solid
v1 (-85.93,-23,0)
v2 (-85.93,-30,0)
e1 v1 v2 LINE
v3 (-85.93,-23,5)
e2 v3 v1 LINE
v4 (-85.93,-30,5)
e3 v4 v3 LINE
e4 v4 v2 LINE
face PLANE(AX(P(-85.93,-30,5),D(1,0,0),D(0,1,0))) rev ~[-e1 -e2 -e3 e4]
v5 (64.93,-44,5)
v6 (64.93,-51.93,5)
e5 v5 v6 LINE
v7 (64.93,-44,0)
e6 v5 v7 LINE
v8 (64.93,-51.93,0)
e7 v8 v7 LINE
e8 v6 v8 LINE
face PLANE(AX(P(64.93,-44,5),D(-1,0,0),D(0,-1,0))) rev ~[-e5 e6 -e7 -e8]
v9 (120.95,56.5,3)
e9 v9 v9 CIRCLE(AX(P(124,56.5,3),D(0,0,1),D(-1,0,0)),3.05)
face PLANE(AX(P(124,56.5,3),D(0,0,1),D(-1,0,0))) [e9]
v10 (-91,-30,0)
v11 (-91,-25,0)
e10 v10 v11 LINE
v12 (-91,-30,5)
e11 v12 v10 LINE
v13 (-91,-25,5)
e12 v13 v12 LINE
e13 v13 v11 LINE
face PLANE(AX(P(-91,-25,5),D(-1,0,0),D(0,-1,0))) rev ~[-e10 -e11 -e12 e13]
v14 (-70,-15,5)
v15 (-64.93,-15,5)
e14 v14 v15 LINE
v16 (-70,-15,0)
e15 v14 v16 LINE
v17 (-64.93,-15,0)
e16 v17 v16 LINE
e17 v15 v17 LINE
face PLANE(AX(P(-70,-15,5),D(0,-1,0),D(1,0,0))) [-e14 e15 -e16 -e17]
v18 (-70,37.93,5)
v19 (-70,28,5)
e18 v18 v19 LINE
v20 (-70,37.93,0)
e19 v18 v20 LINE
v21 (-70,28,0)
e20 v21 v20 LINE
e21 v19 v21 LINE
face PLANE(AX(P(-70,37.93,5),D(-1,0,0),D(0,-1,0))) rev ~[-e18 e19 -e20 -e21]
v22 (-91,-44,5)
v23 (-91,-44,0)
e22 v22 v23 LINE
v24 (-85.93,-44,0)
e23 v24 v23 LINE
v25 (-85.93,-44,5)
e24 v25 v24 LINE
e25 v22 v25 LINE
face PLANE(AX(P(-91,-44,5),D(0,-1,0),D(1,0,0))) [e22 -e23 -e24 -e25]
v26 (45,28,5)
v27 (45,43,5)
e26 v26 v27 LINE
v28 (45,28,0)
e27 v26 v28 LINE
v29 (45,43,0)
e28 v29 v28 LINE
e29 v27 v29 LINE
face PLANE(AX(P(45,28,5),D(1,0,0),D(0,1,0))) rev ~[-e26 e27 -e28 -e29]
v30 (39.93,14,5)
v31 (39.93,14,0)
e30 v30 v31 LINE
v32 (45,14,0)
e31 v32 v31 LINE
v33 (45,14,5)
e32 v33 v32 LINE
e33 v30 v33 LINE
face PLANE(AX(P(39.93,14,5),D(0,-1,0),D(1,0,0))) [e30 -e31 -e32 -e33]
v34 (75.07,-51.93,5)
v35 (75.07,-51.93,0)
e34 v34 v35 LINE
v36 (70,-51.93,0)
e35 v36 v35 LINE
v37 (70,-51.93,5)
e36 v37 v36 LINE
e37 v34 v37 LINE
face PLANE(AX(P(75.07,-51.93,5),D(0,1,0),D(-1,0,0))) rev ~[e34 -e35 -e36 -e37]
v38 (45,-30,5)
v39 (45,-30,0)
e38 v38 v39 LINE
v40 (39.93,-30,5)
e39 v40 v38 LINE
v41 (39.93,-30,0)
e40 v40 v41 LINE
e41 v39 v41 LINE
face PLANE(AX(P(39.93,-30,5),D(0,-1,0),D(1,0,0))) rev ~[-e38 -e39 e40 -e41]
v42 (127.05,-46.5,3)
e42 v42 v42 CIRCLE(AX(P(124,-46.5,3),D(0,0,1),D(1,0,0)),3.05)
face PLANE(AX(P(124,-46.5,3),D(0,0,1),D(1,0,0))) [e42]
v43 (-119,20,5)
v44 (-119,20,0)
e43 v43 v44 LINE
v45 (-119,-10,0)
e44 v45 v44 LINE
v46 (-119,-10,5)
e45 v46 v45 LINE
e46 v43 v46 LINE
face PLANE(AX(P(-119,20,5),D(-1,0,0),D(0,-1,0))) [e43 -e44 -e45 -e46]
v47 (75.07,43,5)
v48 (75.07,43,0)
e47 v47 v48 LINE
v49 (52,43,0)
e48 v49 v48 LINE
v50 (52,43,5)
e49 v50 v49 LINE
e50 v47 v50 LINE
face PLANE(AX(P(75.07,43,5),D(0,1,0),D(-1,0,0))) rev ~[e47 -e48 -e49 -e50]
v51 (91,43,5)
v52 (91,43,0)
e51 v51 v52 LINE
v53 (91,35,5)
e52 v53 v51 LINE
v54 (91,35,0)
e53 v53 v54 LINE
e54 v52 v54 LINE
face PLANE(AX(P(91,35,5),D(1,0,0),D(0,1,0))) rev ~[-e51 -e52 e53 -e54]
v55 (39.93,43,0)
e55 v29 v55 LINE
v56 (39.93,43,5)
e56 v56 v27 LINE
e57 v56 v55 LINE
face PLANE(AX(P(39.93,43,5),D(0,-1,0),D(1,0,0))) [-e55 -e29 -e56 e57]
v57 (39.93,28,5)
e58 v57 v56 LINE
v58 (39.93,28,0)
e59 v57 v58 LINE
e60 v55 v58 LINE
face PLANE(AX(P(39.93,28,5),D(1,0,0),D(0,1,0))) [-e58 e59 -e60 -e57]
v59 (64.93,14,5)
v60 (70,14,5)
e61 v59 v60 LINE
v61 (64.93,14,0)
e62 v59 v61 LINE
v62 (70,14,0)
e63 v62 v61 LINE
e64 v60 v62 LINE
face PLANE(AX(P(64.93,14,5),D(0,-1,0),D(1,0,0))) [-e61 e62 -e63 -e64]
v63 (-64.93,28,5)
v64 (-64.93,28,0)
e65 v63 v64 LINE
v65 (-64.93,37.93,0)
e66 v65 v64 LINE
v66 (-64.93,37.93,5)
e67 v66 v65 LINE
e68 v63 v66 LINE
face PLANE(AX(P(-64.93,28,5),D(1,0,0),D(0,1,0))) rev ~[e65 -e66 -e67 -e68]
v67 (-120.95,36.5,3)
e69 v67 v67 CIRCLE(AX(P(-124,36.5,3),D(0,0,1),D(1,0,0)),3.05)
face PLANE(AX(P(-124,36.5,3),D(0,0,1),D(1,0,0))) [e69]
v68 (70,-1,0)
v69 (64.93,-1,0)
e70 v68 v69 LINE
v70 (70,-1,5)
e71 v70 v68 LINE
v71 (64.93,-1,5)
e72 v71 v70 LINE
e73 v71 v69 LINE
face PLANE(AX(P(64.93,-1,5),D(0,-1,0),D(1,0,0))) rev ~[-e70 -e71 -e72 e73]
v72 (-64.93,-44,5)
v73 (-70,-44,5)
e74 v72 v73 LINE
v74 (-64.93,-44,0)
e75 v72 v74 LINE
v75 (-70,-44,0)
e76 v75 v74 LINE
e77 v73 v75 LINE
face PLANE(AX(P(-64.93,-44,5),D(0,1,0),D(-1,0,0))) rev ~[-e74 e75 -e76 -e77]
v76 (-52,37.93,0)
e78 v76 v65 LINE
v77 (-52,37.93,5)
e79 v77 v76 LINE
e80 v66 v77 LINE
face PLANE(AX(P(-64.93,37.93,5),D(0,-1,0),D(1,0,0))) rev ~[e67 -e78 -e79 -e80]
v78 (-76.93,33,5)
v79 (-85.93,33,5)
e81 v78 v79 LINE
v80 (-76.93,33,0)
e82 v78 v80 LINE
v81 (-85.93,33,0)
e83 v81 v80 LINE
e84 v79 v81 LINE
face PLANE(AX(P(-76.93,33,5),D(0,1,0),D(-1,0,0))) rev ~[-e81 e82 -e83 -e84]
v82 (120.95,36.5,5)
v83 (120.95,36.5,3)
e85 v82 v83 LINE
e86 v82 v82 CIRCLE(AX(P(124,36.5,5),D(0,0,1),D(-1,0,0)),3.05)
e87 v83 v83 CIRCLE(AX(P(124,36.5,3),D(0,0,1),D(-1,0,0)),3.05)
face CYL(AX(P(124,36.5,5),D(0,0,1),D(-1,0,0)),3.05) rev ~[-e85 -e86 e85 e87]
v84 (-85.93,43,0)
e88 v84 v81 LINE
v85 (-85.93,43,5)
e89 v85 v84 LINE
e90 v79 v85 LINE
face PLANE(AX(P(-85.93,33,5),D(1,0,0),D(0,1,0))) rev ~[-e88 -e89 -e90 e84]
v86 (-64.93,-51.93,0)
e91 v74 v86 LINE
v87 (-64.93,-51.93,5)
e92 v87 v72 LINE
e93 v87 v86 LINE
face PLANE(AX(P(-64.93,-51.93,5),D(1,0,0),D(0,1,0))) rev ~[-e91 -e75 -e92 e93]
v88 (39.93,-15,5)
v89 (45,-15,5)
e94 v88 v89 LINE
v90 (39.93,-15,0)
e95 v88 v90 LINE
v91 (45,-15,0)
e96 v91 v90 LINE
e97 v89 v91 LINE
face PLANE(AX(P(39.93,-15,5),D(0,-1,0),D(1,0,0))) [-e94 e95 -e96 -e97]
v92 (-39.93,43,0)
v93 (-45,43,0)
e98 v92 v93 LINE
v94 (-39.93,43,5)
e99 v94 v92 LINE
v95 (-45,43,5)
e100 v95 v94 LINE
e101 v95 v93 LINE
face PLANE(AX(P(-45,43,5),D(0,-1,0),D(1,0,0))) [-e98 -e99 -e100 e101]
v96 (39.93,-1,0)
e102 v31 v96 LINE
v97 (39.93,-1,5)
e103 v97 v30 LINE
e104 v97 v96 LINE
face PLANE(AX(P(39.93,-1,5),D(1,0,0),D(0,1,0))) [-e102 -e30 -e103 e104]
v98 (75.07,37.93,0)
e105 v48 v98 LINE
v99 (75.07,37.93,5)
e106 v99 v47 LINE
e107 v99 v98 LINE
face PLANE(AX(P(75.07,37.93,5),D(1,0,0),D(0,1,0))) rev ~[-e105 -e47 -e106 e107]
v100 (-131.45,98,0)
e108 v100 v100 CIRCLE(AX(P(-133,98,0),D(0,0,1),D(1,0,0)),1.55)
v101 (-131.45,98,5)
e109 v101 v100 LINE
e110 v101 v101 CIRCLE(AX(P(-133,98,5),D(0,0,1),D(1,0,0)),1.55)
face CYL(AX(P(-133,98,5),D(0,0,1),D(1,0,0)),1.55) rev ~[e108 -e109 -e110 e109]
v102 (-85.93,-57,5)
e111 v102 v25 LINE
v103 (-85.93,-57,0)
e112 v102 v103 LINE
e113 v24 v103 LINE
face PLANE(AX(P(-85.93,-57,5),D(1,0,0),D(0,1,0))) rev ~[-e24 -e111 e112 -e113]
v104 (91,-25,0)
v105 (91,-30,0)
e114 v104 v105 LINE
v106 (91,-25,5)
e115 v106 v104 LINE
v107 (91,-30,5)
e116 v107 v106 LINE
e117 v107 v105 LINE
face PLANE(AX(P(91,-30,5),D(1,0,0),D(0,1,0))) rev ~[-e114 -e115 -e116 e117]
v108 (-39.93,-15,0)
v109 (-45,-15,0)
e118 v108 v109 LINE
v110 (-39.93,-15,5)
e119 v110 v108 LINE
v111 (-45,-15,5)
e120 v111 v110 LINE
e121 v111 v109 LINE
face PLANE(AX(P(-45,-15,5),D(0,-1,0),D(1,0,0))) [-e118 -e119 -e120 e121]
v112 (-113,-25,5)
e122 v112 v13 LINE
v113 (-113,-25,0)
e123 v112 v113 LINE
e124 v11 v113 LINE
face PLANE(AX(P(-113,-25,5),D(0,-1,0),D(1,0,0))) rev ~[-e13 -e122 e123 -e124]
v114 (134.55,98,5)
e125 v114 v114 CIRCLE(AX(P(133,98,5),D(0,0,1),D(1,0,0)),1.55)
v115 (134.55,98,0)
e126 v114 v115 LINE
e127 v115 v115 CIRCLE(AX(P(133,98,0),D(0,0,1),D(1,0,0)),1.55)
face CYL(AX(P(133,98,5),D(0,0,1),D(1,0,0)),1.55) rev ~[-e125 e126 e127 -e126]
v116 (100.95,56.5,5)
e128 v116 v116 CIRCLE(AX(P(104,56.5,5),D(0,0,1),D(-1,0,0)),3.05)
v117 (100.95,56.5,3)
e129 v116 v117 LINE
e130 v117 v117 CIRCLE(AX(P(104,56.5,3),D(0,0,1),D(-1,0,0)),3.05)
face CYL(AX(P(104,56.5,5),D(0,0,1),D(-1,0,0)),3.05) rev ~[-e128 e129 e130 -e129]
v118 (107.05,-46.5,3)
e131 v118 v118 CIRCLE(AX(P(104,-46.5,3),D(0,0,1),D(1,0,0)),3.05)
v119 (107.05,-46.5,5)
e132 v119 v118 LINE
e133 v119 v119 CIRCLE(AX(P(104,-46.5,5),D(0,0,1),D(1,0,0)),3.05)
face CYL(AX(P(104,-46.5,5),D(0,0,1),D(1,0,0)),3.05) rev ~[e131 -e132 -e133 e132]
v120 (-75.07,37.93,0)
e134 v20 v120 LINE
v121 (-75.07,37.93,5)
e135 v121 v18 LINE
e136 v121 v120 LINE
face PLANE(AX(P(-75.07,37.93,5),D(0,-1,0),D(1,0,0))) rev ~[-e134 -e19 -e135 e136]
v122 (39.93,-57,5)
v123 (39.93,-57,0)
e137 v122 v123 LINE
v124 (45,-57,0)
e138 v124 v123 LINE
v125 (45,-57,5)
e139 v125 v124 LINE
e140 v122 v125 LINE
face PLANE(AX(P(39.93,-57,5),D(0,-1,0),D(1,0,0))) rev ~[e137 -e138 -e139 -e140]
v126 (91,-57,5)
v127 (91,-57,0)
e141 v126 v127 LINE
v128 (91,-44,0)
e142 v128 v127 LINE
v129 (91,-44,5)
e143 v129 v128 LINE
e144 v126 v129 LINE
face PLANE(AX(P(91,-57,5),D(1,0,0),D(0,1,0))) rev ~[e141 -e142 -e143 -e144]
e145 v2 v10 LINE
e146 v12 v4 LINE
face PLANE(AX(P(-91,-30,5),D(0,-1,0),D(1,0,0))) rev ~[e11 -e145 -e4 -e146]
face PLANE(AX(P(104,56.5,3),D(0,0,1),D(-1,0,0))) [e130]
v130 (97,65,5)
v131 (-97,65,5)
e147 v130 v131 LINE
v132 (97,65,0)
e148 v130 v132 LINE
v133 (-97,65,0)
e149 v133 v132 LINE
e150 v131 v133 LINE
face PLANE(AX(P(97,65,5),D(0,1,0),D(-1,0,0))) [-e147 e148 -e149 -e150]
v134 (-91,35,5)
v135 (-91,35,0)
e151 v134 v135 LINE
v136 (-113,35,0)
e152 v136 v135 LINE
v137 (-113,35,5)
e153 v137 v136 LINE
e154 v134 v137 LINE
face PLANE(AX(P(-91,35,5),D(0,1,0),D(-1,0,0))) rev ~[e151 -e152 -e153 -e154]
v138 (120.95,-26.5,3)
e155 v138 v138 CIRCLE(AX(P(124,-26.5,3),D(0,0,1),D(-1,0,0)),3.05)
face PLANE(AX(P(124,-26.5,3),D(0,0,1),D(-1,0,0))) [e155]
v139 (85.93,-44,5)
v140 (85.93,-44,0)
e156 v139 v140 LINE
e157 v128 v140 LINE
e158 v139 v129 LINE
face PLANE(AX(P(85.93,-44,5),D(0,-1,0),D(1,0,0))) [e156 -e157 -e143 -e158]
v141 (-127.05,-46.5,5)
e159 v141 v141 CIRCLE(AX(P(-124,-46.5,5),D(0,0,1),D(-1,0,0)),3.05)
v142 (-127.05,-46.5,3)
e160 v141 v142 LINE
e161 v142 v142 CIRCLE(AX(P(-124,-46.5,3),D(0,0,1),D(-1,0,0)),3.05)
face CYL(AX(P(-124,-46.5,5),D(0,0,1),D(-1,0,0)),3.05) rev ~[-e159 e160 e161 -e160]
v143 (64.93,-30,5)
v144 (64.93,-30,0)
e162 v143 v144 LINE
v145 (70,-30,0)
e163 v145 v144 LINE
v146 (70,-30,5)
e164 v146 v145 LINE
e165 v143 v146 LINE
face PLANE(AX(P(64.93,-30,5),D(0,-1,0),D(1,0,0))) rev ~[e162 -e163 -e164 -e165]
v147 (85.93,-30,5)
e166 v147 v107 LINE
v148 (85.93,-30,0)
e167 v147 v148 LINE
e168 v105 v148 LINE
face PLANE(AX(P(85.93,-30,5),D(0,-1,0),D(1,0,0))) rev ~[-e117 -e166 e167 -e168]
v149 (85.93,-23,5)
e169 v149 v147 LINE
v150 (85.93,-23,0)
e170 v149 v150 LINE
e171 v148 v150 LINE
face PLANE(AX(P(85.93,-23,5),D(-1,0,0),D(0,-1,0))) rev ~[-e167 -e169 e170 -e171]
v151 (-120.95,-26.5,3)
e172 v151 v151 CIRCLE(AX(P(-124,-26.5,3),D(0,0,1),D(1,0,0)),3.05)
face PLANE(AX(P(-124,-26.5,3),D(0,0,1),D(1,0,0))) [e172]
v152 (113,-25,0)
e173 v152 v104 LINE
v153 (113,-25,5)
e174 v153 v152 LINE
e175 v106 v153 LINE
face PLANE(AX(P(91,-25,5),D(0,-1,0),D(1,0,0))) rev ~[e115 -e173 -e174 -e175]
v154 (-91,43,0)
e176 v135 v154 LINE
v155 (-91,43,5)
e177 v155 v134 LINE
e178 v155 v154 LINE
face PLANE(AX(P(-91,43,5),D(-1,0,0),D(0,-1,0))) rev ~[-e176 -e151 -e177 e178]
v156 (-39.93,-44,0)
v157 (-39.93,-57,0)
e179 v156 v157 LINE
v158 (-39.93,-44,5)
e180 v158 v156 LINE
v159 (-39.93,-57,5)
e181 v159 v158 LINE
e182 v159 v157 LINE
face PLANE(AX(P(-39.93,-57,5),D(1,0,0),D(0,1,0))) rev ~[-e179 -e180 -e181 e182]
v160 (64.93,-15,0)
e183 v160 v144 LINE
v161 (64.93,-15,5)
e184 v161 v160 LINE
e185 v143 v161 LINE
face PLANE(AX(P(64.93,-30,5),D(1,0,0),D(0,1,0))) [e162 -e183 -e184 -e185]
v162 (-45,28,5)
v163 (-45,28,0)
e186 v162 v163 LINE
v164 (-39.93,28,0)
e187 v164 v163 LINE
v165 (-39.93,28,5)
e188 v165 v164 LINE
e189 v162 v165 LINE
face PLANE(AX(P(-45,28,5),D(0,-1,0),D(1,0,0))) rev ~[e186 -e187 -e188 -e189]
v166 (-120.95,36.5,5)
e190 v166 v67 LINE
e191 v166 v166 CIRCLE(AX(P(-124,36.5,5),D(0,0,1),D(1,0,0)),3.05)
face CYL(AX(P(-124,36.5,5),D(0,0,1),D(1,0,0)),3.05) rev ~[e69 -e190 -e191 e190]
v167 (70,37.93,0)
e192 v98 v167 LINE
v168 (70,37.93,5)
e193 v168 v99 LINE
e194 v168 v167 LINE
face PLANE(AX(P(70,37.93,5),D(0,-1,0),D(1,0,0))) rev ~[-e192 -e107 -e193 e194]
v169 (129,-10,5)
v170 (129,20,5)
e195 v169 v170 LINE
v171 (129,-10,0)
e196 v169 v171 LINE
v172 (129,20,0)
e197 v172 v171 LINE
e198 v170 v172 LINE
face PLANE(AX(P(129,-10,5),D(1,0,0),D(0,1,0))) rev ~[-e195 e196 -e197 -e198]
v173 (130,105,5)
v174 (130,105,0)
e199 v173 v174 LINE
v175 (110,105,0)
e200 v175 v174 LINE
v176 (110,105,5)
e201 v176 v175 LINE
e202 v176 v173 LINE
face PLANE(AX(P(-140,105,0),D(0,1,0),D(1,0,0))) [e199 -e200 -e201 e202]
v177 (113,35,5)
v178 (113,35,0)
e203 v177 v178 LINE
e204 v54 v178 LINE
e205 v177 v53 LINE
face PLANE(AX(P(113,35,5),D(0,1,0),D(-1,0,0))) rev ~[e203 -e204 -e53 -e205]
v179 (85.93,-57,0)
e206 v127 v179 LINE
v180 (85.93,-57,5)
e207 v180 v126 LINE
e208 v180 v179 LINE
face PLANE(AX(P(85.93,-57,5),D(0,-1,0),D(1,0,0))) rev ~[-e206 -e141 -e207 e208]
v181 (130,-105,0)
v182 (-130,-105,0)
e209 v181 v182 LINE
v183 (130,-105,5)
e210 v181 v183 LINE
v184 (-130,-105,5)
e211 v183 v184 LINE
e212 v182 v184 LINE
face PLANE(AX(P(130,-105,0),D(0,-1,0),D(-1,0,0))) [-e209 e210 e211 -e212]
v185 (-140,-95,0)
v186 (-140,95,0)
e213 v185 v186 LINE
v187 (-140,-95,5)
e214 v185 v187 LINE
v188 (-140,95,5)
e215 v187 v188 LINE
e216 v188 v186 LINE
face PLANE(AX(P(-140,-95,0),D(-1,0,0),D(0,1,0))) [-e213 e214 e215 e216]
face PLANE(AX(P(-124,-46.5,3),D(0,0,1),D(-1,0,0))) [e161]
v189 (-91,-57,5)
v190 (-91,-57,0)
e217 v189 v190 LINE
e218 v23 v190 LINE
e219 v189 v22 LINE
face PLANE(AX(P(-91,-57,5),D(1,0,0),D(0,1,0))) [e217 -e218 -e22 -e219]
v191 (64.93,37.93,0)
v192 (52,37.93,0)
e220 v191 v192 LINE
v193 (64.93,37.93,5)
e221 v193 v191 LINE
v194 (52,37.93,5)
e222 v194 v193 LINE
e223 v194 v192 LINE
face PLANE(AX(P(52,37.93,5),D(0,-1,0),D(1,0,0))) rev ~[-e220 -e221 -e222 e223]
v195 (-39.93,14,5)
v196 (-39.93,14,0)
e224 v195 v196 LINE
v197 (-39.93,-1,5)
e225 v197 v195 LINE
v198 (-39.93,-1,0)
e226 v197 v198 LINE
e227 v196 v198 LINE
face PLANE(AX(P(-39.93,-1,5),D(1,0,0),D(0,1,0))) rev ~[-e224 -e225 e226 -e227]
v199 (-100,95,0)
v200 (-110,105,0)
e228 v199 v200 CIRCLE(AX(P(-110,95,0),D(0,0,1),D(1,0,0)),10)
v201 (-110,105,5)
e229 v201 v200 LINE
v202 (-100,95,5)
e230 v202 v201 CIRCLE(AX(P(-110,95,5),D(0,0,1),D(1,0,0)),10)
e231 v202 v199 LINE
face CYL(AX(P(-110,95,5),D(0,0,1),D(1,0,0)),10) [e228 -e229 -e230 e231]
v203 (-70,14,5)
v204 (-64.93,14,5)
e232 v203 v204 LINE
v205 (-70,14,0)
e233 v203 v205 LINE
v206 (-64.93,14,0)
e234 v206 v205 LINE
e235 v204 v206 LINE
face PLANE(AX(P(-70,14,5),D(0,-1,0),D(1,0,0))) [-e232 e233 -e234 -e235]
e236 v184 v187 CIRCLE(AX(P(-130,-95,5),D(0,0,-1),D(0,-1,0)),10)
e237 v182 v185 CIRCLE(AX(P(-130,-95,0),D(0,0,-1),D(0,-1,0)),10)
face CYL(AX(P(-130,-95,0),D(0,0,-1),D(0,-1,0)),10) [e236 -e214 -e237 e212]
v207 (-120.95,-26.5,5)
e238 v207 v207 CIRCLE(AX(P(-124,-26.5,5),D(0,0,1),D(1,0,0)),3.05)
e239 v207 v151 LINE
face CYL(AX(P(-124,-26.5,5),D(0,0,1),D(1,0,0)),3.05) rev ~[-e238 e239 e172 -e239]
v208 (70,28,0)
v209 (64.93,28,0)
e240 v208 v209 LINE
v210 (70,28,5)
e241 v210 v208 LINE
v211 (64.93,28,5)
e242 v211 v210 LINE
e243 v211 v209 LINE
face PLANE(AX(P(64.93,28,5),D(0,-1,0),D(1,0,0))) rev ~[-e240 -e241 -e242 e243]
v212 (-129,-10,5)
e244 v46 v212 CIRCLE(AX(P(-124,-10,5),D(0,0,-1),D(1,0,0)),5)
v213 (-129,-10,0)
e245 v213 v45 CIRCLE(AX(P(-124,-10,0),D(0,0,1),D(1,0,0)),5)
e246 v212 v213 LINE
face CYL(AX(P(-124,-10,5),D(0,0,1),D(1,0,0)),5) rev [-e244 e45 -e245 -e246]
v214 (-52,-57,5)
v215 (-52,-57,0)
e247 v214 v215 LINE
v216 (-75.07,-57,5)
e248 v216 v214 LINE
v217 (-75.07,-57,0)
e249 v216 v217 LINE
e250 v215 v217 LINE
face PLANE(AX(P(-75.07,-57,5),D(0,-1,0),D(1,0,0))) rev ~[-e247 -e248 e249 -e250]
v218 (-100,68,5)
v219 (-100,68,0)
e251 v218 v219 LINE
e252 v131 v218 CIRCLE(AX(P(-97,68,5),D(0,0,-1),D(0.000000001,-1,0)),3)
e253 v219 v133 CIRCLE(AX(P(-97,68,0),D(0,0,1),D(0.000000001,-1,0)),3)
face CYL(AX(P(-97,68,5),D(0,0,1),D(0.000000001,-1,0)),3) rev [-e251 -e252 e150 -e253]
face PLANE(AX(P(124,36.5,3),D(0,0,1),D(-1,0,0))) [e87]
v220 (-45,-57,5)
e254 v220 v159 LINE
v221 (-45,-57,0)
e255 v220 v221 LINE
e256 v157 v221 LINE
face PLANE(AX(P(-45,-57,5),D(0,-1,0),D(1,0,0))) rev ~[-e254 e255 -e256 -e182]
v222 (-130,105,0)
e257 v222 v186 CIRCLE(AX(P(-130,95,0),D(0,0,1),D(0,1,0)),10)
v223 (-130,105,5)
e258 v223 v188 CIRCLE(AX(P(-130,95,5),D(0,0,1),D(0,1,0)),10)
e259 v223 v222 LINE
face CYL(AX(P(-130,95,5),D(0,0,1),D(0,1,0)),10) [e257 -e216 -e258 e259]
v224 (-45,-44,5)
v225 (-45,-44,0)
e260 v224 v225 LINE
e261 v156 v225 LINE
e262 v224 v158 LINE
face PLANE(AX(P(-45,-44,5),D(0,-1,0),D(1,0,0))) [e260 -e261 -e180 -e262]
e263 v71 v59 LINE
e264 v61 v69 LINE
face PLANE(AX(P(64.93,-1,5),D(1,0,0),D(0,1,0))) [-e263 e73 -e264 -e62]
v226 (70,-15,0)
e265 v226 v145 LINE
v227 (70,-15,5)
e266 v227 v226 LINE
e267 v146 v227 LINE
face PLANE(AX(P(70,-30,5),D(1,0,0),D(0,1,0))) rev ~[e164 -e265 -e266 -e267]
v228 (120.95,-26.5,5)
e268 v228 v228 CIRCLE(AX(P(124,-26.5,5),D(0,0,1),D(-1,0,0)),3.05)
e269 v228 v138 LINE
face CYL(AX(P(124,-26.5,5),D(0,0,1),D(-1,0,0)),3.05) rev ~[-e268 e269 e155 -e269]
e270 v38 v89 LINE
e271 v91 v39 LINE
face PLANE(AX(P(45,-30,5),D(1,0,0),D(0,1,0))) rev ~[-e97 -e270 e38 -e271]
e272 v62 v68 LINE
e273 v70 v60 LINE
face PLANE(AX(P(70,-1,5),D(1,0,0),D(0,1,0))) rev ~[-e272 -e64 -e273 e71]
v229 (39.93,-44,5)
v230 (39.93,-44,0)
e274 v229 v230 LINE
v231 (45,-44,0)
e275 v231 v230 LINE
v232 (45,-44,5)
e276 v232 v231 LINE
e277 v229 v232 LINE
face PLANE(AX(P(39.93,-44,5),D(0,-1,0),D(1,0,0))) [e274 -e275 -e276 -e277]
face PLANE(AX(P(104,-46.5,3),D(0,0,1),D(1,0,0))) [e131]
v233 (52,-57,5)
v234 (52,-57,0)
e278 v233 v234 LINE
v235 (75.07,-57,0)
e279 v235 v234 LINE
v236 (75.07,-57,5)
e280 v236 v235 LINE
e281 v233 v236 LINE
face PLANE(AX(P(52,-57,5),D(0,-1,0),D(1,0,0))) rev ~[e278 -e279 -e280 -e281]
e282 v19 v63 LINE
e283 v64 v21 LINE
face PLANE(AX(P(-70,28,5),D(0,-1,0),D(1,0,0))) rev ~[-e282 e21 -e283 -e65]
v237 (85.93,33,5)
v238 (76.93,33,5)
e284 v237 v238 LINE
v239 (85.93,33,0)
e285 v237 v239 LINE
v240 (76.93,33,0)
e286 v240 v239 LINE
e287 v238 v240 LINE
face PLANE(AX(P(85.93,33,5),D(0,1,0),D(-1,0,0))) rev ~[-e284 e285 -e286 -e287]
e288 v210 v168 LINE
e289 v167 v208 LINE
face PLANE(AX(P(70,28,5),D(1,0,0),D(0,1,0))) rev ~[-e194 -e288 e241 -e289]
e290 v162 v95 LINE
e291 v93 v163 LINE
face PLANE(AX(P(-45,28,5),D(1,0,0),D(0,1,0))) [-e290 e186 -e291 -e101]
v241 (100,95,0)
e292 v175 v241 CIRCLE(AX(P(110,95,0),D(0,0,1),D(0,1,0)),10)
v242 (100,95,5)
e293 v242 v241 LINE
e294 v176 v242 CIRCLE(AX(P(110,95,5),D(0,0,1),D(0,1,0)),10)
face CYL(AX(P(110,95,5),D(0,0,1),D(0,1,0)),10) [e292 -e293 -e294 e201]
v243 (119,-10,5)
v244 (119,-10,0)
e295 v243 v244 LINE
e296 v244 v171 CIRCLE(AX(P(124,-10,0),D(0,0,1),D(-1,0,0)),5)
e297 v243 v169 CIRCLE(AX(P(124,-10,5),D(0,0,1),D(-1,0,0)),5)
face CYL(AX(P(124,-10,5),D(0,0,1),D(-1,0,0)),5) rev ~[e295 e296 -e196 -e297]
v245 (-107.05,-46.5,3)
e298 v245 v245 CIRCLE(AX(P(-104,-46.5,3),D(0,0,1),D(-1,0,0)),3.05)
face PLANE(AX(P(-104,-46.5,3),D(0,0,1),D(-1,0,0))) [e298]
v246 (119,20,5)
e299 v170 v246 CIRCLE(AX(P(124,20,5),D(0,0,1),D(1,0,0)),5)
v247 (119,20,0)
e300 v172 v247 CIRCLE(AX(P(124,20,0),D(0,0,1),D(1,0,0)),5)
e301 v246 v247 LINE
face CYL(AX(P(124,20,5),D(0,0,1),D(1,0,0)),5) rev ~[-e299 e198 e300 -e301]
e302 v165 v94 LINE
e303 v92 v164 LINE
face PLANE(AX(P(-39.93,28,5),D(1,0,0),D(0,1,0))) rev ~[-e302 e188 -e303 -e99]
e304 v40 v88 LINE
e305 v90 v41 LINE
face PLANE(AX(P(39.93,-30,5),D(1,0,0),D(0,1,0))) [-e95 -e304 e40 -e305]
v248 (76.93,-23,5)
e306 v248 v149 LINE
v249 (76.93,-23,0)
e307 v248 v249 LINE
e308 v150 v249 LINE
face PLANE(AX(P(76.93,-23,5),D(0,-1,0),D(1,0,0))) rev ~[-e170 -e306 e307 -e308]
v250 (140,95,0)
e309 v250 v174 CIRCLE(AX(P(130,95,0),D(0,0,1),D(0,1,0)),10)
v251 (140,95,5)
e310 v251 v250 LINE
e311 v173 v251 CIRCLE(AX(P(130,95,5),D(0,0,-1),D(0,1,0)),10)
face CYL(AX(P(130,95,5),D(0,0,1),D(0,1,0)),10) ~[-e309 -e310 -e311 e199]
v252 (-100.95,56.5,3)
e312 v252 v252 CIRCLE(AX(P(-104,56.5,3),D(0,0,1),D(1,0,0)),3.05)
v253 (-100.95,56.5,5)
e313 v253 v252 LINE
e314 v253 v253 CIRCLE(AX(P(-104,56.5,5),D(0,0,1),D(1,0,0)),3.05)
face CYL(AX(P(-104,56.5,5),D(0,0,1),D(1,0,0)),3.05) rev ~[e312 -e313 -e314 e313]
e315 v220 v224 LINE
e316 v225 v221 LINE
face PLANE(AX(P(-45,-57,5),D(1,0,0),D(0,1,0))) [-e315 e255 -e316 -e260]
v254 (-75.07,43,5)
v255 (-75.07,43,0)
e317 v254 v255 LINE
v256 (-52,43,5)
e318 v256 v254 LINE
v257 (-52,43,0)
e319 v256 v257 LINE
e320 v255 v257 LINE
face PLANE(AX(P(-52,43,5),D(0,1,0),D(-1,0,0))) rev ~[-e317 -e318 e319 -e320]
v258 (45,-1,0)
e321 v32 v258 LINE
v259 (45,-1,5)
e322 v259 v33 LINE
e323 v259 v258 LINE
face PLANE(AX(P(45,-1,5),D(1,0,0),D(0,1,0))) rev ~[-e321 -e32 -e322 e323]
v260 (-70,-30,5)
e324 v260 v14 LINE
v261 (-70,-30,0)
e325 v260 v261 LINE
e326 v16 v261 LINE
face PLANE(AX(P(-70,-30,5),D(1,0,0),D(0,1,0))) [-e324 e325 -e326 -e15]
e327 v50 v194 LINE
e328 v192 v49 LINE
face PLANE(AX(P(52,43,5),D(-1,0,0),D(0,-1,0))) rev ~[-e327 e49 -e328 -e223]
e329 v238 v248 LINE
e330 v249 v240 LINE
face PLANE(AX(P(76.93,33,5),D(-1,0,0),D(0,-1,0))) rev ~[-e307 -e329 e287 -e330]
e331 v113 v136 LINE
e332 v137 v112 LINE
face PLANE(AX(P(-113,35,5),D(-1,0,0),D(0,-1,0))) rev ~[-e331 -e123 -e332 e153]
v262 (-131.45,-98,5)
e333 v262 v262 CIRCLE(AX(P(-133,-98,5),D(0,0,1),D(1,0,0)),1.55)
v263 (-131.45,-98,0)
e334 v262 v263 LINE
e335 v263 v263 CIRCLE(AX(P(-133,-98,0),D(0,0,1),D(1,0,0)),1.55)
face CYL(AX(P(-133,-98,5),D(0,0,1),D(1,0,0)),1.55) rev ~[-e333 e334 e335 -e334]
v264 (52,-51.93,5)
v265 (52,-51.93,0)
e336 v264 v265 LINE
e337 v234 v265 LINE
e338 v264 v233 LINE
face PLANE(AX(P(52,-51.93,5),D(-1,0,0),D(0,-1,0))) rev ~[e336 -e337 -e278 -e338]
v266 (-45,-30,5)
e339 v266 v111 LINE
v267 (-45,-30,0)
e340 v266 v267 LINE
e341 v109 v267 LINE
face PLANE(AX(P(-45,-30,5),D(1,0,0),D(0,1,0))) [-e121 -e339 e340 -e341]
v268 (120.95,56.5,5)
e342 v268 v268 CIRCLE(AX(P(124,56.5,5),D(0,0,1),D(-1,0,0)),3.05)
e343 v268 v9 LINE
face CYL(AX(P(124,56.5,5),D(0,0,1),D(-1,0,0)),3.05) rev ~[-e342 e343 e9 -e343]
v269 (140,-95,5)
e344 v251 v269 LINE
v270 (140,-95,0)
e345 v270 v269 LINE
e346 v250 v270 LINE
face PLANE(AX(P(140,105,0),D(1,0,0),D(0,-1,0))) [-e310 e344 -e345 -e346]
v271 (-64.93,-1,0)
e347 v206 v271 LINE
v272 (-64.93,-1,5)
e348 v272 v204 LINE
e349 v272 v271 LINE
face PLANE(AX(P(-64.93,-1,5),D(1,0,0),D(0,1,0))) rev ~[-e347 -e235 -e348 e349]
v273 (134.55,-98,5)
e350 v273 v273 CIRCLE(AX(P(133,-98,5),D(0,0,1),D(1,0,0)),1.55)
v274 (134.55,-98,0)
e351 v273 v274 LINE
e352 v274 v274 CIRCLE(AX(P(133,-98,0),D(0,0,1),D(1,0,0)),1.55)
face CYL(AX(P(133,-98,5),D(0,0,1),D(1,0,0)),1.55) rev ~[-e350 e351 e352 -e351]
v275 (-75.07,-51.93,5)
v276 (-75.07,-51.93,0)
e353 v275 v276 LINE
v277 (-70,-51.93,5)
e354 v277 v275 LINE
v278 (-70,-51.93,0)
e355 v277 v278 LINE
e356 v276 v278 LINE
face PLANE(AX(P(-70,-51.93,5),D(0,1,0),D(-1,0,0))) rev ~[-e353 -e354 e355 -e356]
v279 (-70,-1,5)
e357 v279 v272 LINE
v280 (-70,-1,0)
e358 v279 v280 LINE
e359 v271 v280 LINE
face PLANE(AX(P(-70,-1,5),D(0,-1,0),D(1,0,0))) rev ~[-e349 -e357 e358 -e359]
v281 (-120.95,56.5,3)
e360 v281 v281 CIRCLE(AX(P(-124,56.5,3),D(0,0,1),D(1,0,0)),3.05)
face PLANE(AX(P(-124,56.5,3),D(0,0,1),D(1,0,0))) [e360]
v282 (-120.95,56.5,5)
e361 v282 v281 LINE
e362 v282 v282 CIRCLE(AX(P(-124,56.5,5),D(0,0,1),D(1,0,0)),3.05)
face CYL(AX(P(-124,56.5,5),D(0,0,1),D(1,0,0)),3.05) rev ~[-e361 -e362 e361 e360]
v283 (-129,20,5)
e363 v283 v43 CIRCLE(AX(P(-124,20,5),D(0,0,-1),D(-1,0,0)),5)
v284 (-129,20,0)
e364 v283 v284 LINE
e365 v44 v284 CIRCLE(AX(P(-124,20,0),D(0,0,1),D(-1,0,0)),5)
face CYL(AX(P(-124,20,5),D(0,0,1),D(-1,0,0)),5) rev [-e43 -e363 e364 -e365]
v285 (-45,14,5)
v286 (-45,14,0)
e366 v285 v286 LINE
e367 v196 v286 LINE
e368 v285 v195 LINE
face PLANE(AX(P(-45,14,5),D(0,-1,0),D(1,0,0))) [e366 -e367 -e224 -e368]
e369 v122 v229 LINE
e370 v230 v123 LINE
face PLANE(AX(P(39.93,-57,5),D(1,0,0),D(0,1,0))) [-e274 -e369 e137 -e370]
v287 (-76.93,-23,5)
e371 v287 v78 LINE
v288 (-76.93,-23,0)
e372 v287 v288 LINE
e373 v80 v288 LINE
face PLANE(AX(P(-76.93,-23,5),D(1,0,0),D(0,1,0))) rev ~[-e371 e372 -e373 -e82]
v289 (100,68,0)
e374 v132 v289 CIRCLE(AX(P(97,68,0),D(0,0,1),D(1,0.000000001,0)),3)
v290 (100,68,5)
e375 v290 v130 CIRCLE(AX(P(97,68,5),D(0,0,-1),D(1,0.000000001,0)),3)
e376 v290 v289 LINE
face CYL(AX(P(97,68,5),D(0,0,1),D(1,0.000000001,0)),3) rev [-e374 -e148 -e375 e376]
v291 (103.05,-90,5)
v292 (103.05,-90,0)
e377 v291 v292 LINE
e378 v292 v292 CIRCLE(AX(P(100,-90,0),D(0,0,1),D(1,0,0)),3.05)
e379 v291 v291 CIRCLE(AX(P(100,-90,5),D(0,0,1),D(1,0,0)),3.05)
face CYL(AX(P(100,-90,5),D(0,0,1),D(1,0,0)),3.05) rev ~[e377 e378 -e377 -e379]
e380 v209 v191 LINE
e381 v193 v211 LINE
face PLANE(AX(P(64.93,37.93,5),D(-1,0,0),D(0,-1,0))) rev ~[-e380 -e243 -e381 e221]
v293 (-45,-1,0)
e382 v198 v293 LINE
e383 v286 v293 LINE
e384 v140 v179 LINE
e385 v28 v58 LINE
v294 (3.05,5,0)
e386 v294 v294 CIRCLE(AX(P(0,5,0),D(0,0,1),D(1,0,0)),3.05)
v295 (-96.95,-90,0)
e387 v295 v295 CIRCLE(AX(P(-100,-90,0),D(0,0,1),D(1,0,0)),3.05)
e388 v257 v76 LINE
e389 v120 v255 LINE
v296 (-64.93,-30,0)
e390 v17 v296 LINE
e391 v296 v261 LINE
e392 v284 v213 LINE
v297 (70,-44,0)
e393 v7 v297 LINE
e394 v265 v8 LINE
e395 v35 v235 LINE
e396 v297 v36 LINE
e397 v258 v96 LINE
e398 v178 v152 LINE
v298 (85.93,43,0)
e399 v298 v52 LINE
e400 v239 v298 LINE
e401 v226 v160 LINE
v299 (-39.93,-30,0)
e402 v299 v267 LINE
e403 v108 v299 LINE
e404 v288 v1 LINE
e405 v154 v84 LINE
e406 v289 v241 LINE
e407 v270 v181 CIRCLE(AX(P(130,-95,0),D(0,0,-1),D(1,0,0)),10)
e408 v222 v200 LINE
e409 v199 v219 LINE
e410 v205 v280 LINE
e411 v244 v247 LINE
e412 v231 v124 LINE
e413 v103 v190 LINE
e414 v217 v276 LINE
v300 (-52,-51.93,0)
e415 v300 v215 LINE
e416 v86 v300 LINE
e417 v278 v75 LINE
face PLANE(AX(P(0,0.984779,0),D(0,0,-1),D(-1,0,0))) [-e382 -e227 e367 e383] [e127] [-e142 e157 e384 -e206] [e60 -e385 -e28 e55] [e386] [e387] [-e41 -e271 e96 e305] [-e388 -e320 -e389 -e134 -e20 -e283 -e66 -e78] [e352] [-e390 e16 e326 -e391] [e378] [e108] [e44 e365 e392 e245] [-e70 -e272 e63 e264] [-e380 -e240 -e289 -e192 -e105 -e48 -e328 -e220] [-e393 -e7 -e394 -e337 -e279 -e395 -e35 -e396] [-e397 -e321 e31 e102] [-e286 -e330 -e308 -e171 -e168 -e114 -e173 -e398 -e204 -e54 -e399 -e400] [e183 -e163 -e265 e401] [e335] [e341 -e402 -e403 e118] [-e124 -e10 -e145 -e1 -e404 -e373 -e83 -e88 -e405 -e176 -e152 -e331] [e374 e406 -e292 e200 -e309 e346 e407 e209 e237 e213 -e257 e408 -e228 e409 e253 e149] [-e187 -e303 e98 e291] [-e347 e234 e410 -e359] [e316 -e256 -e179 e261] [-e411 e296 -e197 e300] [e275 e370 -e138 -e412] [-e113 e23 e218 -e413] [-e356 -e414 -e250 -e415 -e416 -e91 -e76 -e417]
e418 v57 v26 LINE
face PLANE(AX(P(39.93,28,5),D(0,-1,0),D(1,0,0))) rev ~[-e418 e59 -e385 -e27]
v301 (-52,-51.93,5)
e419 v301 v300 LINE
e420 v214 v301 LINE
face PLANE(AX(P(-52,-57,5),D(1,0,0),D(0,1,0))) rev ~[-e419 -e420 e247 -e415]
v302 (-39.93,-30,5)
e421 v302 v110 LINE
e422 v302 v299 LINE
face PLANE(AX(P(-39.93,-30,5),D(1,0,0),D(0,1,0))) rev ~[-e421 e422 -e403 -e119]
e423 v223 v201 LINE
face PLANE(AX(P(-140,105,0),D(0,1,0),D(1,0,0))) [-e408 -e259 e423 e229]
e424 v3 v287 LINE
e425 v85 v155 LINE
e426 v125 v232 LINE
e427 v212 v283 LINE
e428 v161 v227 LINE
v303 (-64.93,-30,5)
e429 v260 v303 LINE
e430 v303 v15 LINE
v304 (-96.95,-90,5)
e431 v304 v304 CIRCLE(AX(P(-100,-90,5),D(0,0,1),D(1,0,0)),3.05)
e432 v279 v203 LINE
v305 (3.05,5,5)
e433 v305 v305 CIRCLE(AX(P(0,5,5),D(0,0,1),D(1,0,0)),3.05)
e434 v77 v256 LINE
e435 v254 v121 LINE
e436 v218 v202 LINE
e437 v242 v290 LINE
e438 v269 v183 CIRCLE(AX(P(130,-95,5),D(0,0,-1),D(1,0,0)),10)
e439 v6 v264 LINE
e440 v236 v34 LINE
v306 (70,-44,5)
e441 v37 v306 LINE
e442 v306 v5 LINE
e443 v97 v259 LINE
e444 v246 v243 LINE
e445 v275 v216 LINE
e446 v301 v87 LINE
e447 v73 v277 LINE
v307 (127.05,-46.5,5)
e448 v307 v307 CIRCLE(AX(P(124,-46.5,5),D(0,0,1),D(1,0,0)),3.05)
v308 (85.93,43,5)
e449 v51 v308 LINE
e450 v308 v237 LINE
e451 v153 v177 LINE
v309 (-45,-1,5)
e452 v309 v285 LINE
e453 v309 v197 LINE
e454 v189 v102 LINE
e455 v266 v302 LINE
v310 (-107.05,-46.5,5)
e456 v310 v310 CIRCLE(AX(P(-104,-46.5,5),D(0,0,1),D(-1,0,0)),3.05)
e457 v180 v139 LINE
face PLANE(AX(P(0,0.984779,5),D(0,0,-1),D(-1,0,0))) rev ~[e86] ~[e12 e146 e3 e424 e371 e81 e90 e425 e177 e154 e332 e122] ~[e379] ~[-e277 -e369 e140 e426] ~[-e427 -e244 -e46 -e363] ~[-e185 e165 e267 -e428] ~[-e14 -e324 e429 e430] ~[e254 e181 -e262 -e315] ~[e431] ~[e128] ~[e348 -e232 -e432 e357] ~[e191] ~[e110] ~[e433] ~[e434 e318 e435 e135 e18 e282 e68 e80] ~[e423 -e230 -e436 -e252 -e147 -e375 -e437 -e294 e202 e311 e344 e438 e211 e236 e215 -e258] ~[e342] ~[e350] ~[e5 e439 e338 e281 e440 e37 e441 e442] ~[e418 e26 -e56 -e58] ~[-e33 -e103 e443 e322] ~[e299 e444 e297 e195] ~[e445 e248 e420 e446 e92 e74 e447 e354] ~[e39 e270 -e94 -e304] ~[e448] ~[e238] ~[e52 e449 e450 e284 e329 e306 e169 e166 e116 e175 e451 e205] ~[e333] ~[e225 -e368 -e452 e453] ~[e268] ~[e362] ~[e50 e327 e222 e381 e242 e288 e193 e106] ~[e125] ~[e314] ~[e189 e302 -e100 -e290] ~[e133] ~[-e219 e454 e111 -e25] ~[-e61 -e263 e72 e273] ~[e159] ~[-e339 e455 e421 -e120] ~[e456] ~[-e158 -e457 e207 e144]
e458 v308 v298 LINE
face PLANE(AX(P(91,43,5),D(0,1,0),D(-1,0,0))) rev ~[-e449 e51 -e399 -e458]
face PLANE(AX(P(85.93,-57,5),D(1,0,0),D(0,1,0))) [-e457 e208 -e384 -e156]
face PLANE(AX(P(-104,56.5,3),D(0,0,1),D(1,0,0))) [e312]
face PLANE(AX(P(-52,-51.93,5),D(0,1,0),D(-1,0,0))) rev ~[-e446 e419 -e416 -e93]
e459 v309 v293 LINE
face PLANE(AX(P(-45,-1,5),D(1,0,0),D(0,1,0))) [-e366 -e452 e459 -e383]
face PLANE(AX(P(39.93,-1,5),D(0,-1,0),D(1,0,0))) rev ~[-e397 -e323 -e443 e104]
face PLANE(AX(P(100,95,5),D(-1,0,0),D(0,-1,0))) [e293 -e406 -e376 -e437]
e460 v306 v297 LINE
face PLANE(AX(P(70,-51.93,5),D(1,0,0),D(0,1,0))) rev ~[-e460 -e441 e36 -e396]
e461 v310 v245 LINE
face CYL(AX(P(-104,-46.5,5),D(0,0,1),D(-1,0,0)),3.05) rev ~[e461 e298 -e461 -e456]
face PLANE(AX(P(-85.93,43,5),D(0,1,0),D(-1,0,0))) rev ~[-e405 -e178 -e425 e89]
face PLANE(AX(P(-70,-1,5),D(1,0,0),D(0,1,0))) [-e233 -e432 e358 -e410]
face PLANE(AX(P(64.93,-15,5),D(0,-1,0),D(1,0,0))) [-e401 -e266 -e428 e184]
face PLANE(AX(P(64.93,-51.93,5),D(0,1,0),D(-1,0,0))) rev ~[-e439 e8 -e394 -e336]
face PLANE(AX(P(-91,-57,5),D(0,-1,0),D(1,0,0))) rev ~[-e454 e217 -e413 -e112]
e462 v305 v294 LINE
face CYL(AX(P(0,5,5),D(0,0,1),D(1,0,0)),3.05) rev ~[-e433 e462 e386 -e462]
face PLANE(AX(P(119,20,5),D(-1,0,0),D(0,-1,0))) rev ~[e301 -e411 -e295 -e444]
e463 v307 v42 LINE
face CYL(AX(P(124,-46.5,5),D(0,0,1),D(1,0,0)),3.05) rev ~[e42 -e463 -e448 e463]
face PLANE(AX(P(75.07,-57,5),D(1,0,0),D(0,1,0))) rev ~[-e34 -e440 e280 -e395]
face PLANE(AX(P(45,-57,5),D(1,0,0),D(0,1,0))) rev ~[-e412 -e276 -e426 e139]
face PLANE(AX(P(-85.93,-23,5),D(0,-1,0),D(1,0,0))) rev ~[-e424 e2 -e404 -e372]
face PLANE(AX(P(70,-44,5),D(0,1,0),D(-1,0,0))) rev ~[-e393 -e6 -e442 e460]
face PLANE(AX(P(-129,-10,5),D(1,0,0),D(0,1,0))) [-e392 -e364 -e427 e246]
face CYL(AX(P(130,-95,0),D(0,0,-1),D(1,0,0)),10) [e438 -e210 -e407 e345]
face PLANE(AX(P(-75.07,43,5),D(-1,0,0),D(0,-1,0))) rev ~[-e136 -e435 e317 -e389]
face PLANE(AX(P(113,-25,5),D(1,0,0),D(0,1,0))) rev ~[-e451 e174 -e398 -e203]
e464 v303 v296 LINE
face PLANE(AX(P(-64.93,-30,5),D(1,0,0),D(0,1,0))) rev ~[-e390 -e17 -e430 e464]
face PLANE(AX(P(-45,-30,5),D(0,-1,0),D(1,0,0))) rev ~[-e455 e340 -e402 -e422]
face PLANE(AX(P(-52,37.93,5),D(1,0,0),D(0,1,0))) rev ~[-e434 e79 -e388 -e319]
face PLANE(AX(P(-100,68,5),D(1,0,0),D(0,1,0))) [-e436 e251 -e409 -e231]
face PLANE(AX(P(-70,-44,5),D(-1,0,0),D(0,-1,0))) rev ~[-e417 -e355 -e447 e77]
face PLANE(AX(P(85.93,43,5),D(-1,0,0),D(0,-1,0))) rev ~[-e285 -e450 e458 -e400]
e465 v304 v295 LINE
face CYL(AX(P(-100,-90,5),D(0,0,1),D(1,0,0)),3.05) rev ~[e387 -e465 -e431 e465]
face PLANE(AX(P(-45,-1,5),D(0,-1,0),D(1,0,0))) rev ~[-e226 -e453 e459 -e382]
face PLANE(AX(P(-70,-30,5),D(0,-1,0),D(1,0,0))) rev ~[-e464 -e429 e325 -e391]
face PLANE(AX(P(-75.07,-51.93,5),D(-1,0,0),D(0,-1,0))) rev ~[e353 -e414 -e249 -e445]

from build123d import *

# Parameters (mm, degrees)
BOSS_EXTRU_1_DEPTH      = 5
ESQUISSE2_W             = 5.07
ESQUISSE2_H             = 13
ESQUISSE2_H_2           = 15
ENL_V_MAT_EXTRU_1_DEPTH = 10
ESQUISSE3_R             = 3.05
ENL_V_MAT_EXTRU_2_DEPTH = 2
ENL_V_MAT_EXTRU_3_DEPTH = 176.071414
ESQUISSE5_R             = 3.05
ESQUISSE5_R_2           = 1.55
ENL_V_MAT_EXTRU_4_DEPTH = 176.071414


with BuildPart() as part:
    # Esquisse1 → Boss.-Extru.1 (new body)
    with BuildSketch(Plane.XY):
        with BuildLine():
            Line((130, -105), (-130, -105))
            ThreePointArc((-130, -105), (-137.071067812, -102.071067812), (-140, -95))
            Line((-140, -95), (-140, 105))
            Line((-140, 105), (140, 105))
            Line((140, 105), (140, -95))
            ThreePointArc((140, -95), (137.071067812, -102.071067812), (130, -105))
        make_face()
    extrude(amount=BOSS_EXTRU_1_DEPTH)

    # Esquisse2 → Enlèv. mat.-Extru.1 (cut)
    with BuildSketch(Plane.XY.offset(5)):
        Polygon((-91, 35), (-113, 35), (-113, -25), (-91, -25), (-91, -30), (-85.93, -30), (-85.93, -23), (-76.93, -23), (-76.93, 33), (-85.93, 33), (-85.93, 43), (-91, 43), align=None)
        with Locations((-88.465, -50.5)):
            Rectangle(ESQUISSE2_W, ESQUISSE2_H)
        with Locations((-67.465, 6.5)):
            Rectangle(ESQUISSE2_W, ESQUISSE2_H_2)
        Polygon((-70, 28), (-64.93, 28), (-64.93, 37.93), (-52, 37.93), (-52, 43), (-75.07, 43), (-75.07, 37.93), (-70, 37.93), align=None)
        Polygon((-52, -57), (-52, -51.93), (-64.93, -51.93), (-64.93, -44), (-70, -44), (-70, -51.93), (-75.07, -51.93), (-75.07, -57), align=None)
        with Locations((-67.465, -22.5)):
            Rectangle(ESQUISSE2_W, ESQUISSE2_H_2)
        with Locations((-42.465, 6.5)):
            Rectangle(ESQUISSE2_W, ESQUISSE2_H_2)
        with Locations((-42.465, 35.5)):
            Rectangle(ESQUISSE2_W, ESQUISSE2_H_2)
        with Locations((-42.465, -50.5)):
            Rectangle(ESQUISSE2_W, ESQUISSE2_H)
        with Locations((-42.465, -22.5)):
            Rectangle(ESQUISSE2_W, ESQUISSE2_H_2)
        Polygon((52, -51.93), (52, -57), (75.07, -57), (75.07, -51.93), (70, -51.93), (70, -44), (64.93, -44), (64.93, -51.93), align=None)
        Polygon((52, 43), (52, 37.93), (64.93, 37.93), (64.93, 28), (70, 28), (70, 37.93), (75.07, 37.93), (75.07, 43), align=None)
        with Locations((42.465, -50.5)):
            Rectangle(ESQUISSE2_W, ESQUISSE2_H)
        with Locations((42.465, -22.5)):
            Rectangle(ESQUISSE2_W, ESQUISSE2_H_2)
        with Locations((42.465, 6.5)):
            Rectangle(ESQUISSE2_W, ESQUISSE2_H_2)
        with Locations((42.465, 35.5)):
            Rectangle(ESQUISSE2_W, ESQUISSE2_H_2)
        with Locations((67.465, -22.5)):
            Rectangle(ESQUISSE2_W, ESQUISSE2_H_2)
        with Locations((67.465, 6.5)):
            Rectangle(ESQUISSE2_W, ESQUISSE2_H_2)
        with Locations((88.465, -50.5)):
            Rectangle(ESQUISSE2_W, ESQUISSE2_H)
        Polygon((85.93, -30), (91, -30), (91, -25), (113, -25), (113, 35), (91, 35), (91, 43), (85.93, 43), (85.93, 33), (76.93, 33), (76.93, -23), (85.93, -23), align=None)
    extrude(amount=-ENL_V_MAT_EXTRU_1_DEPTH, mode=Mode.SUBTRACT)

    # Esquisse3 → Enlèv. mat.-Extru.2 (cut)
    with BuildSketch(Plane.XY.offset(5)):
        with Locations((-124, -26.5)):
            Circle(ESQUISSE3_R)
        with Locations((-124, 36.5)):
            Circle(ESQUISSE3_R)
        with Locations(Location((124, 36.5, 0), (0, 0, 180))):
            Circle(ESQUISSE3_R)
        with Locations(Location((124, -26.5, 0), (0, 0, 180))):
            Circle(ESQUISSE3_R)
        with Locations((-124, 56.5)):
            Circle(ESQUISSE3_R)
        with Locations((-104, 56.5)):
            Circle(ESQUISSE3_R)
        with Locations(Location((-104, -46.5, 0), (0, 0, 180))):
            Circle(ESQUISSE3_R)
        with Locations(Location((-124, -46.5, 0), (0, 0, 180))):
            Circle(ESQUISSE3_R)
        with Locations((124, -46.5)):
            Circle(ESQUISSE3_R)
        with Locations((104, -46.5)):
            Circle(ESQUISSE3_R)
        with Locations(Location((104, 56.5, 0), (0, 0, 180))):
            Circle(ESQUISSE3_R)
        with Locations(Location((124, 56.5, 0), (0, 0, 180))):
            Circle(ESQUISSE3_R)
    extrude(amount=-ENL_V_MAT_EXTRU_2_DEPTH, mode=Mode.SUBTRACT)

    # Esquisse4 → Enlèv. mat.-Extru.3 (cut, through all)
    with BuildSketch(Plane.XY.offset(5)):
        with BuildLine():
            Line((-119, 20), (-119, -10))
            ThreePointArc((-119, -10), (-124, -15), (-129, -10))
            Line((-129, -10), (-129, 20))
            ThreePointArc((-129, 20), (-124, 25), (-119, 20))
        make_face()
        with BuildLine():
            Line((119, 20), (119, -10))
            ThreePointArc((119, -10), (124, -15), (129, -10))
            Line((129, -10), (129, 20))
            ThreePointArc((129, 20), (124, 25), (119, 20))
        make_face()
        with BuildLine():
            Line((-110, 105), (110, 105))
            ThreePointArc((110, 105), (102.928932188, 102.071067812), (100, 95))
            Line((100, 95), (100, 68))
            ThreePointArc((100, 68), (99.121320344, 65.878679656), (97, 65))
            Line((97, 65), (-97, 65))
            ThreePointArc((-97, 65), (-99.121320344, 65.878679656), (-100, 68))
            Line((-100, 68), (-100, 95))
            ThreePointArc((-100, 95), (-102.928932188, 102.071067812), (-110, 105))
        make_face()
        with BuildLine():
            Line((140, 105), (130, 105))
            ThreePointArc((130, 105), (137.071067812, 102.071067812), (140, 95))
            Line((140, 95), (140, 105))
        make_face()
        with BuildLine():
            Line((-140, 95), (-140, 105))
            Line((-140, 105), (-130, 105))
            ThreePointArc((-130, 105), (-137.071067812, 102.071067812), (-140, 95))
        make_face()
    extrude(amount=-ENL_V_MAT_EXTRU_3_DEPTH, mode=Mode.SUBTRACT)

    # Esquisse5 → Enlèv. mat.-Extru.4 (cut, through all)
    with BuildSketch(Plane.XY.offset(5)):
        with Locations((0, 5)):
            Circle(ESQUISSE5_R)
        with Locations((-133, 98)):
            Circle(ESQUISSE5_R_2)
        with Locations((-100, -90)):
            Circle(ESQUISSE5_R)
        with Locations((-133, -98)):
            Circle(ESQUISSE5_R_2)
        with Locations((133, -98)):
            Circle(ESQUISSE5_R_2)
        with Locations((100, -90)):
            Circle(ESQUISSE5_R)
        with Locations((133, 98)):
            Circle(ESQUISSE5_R_2)
    extrude(amount=-ENL_V_MAT_EXTRU_4_DEPTH, mode=Mode.SUBTRACT)


solid = part.part
